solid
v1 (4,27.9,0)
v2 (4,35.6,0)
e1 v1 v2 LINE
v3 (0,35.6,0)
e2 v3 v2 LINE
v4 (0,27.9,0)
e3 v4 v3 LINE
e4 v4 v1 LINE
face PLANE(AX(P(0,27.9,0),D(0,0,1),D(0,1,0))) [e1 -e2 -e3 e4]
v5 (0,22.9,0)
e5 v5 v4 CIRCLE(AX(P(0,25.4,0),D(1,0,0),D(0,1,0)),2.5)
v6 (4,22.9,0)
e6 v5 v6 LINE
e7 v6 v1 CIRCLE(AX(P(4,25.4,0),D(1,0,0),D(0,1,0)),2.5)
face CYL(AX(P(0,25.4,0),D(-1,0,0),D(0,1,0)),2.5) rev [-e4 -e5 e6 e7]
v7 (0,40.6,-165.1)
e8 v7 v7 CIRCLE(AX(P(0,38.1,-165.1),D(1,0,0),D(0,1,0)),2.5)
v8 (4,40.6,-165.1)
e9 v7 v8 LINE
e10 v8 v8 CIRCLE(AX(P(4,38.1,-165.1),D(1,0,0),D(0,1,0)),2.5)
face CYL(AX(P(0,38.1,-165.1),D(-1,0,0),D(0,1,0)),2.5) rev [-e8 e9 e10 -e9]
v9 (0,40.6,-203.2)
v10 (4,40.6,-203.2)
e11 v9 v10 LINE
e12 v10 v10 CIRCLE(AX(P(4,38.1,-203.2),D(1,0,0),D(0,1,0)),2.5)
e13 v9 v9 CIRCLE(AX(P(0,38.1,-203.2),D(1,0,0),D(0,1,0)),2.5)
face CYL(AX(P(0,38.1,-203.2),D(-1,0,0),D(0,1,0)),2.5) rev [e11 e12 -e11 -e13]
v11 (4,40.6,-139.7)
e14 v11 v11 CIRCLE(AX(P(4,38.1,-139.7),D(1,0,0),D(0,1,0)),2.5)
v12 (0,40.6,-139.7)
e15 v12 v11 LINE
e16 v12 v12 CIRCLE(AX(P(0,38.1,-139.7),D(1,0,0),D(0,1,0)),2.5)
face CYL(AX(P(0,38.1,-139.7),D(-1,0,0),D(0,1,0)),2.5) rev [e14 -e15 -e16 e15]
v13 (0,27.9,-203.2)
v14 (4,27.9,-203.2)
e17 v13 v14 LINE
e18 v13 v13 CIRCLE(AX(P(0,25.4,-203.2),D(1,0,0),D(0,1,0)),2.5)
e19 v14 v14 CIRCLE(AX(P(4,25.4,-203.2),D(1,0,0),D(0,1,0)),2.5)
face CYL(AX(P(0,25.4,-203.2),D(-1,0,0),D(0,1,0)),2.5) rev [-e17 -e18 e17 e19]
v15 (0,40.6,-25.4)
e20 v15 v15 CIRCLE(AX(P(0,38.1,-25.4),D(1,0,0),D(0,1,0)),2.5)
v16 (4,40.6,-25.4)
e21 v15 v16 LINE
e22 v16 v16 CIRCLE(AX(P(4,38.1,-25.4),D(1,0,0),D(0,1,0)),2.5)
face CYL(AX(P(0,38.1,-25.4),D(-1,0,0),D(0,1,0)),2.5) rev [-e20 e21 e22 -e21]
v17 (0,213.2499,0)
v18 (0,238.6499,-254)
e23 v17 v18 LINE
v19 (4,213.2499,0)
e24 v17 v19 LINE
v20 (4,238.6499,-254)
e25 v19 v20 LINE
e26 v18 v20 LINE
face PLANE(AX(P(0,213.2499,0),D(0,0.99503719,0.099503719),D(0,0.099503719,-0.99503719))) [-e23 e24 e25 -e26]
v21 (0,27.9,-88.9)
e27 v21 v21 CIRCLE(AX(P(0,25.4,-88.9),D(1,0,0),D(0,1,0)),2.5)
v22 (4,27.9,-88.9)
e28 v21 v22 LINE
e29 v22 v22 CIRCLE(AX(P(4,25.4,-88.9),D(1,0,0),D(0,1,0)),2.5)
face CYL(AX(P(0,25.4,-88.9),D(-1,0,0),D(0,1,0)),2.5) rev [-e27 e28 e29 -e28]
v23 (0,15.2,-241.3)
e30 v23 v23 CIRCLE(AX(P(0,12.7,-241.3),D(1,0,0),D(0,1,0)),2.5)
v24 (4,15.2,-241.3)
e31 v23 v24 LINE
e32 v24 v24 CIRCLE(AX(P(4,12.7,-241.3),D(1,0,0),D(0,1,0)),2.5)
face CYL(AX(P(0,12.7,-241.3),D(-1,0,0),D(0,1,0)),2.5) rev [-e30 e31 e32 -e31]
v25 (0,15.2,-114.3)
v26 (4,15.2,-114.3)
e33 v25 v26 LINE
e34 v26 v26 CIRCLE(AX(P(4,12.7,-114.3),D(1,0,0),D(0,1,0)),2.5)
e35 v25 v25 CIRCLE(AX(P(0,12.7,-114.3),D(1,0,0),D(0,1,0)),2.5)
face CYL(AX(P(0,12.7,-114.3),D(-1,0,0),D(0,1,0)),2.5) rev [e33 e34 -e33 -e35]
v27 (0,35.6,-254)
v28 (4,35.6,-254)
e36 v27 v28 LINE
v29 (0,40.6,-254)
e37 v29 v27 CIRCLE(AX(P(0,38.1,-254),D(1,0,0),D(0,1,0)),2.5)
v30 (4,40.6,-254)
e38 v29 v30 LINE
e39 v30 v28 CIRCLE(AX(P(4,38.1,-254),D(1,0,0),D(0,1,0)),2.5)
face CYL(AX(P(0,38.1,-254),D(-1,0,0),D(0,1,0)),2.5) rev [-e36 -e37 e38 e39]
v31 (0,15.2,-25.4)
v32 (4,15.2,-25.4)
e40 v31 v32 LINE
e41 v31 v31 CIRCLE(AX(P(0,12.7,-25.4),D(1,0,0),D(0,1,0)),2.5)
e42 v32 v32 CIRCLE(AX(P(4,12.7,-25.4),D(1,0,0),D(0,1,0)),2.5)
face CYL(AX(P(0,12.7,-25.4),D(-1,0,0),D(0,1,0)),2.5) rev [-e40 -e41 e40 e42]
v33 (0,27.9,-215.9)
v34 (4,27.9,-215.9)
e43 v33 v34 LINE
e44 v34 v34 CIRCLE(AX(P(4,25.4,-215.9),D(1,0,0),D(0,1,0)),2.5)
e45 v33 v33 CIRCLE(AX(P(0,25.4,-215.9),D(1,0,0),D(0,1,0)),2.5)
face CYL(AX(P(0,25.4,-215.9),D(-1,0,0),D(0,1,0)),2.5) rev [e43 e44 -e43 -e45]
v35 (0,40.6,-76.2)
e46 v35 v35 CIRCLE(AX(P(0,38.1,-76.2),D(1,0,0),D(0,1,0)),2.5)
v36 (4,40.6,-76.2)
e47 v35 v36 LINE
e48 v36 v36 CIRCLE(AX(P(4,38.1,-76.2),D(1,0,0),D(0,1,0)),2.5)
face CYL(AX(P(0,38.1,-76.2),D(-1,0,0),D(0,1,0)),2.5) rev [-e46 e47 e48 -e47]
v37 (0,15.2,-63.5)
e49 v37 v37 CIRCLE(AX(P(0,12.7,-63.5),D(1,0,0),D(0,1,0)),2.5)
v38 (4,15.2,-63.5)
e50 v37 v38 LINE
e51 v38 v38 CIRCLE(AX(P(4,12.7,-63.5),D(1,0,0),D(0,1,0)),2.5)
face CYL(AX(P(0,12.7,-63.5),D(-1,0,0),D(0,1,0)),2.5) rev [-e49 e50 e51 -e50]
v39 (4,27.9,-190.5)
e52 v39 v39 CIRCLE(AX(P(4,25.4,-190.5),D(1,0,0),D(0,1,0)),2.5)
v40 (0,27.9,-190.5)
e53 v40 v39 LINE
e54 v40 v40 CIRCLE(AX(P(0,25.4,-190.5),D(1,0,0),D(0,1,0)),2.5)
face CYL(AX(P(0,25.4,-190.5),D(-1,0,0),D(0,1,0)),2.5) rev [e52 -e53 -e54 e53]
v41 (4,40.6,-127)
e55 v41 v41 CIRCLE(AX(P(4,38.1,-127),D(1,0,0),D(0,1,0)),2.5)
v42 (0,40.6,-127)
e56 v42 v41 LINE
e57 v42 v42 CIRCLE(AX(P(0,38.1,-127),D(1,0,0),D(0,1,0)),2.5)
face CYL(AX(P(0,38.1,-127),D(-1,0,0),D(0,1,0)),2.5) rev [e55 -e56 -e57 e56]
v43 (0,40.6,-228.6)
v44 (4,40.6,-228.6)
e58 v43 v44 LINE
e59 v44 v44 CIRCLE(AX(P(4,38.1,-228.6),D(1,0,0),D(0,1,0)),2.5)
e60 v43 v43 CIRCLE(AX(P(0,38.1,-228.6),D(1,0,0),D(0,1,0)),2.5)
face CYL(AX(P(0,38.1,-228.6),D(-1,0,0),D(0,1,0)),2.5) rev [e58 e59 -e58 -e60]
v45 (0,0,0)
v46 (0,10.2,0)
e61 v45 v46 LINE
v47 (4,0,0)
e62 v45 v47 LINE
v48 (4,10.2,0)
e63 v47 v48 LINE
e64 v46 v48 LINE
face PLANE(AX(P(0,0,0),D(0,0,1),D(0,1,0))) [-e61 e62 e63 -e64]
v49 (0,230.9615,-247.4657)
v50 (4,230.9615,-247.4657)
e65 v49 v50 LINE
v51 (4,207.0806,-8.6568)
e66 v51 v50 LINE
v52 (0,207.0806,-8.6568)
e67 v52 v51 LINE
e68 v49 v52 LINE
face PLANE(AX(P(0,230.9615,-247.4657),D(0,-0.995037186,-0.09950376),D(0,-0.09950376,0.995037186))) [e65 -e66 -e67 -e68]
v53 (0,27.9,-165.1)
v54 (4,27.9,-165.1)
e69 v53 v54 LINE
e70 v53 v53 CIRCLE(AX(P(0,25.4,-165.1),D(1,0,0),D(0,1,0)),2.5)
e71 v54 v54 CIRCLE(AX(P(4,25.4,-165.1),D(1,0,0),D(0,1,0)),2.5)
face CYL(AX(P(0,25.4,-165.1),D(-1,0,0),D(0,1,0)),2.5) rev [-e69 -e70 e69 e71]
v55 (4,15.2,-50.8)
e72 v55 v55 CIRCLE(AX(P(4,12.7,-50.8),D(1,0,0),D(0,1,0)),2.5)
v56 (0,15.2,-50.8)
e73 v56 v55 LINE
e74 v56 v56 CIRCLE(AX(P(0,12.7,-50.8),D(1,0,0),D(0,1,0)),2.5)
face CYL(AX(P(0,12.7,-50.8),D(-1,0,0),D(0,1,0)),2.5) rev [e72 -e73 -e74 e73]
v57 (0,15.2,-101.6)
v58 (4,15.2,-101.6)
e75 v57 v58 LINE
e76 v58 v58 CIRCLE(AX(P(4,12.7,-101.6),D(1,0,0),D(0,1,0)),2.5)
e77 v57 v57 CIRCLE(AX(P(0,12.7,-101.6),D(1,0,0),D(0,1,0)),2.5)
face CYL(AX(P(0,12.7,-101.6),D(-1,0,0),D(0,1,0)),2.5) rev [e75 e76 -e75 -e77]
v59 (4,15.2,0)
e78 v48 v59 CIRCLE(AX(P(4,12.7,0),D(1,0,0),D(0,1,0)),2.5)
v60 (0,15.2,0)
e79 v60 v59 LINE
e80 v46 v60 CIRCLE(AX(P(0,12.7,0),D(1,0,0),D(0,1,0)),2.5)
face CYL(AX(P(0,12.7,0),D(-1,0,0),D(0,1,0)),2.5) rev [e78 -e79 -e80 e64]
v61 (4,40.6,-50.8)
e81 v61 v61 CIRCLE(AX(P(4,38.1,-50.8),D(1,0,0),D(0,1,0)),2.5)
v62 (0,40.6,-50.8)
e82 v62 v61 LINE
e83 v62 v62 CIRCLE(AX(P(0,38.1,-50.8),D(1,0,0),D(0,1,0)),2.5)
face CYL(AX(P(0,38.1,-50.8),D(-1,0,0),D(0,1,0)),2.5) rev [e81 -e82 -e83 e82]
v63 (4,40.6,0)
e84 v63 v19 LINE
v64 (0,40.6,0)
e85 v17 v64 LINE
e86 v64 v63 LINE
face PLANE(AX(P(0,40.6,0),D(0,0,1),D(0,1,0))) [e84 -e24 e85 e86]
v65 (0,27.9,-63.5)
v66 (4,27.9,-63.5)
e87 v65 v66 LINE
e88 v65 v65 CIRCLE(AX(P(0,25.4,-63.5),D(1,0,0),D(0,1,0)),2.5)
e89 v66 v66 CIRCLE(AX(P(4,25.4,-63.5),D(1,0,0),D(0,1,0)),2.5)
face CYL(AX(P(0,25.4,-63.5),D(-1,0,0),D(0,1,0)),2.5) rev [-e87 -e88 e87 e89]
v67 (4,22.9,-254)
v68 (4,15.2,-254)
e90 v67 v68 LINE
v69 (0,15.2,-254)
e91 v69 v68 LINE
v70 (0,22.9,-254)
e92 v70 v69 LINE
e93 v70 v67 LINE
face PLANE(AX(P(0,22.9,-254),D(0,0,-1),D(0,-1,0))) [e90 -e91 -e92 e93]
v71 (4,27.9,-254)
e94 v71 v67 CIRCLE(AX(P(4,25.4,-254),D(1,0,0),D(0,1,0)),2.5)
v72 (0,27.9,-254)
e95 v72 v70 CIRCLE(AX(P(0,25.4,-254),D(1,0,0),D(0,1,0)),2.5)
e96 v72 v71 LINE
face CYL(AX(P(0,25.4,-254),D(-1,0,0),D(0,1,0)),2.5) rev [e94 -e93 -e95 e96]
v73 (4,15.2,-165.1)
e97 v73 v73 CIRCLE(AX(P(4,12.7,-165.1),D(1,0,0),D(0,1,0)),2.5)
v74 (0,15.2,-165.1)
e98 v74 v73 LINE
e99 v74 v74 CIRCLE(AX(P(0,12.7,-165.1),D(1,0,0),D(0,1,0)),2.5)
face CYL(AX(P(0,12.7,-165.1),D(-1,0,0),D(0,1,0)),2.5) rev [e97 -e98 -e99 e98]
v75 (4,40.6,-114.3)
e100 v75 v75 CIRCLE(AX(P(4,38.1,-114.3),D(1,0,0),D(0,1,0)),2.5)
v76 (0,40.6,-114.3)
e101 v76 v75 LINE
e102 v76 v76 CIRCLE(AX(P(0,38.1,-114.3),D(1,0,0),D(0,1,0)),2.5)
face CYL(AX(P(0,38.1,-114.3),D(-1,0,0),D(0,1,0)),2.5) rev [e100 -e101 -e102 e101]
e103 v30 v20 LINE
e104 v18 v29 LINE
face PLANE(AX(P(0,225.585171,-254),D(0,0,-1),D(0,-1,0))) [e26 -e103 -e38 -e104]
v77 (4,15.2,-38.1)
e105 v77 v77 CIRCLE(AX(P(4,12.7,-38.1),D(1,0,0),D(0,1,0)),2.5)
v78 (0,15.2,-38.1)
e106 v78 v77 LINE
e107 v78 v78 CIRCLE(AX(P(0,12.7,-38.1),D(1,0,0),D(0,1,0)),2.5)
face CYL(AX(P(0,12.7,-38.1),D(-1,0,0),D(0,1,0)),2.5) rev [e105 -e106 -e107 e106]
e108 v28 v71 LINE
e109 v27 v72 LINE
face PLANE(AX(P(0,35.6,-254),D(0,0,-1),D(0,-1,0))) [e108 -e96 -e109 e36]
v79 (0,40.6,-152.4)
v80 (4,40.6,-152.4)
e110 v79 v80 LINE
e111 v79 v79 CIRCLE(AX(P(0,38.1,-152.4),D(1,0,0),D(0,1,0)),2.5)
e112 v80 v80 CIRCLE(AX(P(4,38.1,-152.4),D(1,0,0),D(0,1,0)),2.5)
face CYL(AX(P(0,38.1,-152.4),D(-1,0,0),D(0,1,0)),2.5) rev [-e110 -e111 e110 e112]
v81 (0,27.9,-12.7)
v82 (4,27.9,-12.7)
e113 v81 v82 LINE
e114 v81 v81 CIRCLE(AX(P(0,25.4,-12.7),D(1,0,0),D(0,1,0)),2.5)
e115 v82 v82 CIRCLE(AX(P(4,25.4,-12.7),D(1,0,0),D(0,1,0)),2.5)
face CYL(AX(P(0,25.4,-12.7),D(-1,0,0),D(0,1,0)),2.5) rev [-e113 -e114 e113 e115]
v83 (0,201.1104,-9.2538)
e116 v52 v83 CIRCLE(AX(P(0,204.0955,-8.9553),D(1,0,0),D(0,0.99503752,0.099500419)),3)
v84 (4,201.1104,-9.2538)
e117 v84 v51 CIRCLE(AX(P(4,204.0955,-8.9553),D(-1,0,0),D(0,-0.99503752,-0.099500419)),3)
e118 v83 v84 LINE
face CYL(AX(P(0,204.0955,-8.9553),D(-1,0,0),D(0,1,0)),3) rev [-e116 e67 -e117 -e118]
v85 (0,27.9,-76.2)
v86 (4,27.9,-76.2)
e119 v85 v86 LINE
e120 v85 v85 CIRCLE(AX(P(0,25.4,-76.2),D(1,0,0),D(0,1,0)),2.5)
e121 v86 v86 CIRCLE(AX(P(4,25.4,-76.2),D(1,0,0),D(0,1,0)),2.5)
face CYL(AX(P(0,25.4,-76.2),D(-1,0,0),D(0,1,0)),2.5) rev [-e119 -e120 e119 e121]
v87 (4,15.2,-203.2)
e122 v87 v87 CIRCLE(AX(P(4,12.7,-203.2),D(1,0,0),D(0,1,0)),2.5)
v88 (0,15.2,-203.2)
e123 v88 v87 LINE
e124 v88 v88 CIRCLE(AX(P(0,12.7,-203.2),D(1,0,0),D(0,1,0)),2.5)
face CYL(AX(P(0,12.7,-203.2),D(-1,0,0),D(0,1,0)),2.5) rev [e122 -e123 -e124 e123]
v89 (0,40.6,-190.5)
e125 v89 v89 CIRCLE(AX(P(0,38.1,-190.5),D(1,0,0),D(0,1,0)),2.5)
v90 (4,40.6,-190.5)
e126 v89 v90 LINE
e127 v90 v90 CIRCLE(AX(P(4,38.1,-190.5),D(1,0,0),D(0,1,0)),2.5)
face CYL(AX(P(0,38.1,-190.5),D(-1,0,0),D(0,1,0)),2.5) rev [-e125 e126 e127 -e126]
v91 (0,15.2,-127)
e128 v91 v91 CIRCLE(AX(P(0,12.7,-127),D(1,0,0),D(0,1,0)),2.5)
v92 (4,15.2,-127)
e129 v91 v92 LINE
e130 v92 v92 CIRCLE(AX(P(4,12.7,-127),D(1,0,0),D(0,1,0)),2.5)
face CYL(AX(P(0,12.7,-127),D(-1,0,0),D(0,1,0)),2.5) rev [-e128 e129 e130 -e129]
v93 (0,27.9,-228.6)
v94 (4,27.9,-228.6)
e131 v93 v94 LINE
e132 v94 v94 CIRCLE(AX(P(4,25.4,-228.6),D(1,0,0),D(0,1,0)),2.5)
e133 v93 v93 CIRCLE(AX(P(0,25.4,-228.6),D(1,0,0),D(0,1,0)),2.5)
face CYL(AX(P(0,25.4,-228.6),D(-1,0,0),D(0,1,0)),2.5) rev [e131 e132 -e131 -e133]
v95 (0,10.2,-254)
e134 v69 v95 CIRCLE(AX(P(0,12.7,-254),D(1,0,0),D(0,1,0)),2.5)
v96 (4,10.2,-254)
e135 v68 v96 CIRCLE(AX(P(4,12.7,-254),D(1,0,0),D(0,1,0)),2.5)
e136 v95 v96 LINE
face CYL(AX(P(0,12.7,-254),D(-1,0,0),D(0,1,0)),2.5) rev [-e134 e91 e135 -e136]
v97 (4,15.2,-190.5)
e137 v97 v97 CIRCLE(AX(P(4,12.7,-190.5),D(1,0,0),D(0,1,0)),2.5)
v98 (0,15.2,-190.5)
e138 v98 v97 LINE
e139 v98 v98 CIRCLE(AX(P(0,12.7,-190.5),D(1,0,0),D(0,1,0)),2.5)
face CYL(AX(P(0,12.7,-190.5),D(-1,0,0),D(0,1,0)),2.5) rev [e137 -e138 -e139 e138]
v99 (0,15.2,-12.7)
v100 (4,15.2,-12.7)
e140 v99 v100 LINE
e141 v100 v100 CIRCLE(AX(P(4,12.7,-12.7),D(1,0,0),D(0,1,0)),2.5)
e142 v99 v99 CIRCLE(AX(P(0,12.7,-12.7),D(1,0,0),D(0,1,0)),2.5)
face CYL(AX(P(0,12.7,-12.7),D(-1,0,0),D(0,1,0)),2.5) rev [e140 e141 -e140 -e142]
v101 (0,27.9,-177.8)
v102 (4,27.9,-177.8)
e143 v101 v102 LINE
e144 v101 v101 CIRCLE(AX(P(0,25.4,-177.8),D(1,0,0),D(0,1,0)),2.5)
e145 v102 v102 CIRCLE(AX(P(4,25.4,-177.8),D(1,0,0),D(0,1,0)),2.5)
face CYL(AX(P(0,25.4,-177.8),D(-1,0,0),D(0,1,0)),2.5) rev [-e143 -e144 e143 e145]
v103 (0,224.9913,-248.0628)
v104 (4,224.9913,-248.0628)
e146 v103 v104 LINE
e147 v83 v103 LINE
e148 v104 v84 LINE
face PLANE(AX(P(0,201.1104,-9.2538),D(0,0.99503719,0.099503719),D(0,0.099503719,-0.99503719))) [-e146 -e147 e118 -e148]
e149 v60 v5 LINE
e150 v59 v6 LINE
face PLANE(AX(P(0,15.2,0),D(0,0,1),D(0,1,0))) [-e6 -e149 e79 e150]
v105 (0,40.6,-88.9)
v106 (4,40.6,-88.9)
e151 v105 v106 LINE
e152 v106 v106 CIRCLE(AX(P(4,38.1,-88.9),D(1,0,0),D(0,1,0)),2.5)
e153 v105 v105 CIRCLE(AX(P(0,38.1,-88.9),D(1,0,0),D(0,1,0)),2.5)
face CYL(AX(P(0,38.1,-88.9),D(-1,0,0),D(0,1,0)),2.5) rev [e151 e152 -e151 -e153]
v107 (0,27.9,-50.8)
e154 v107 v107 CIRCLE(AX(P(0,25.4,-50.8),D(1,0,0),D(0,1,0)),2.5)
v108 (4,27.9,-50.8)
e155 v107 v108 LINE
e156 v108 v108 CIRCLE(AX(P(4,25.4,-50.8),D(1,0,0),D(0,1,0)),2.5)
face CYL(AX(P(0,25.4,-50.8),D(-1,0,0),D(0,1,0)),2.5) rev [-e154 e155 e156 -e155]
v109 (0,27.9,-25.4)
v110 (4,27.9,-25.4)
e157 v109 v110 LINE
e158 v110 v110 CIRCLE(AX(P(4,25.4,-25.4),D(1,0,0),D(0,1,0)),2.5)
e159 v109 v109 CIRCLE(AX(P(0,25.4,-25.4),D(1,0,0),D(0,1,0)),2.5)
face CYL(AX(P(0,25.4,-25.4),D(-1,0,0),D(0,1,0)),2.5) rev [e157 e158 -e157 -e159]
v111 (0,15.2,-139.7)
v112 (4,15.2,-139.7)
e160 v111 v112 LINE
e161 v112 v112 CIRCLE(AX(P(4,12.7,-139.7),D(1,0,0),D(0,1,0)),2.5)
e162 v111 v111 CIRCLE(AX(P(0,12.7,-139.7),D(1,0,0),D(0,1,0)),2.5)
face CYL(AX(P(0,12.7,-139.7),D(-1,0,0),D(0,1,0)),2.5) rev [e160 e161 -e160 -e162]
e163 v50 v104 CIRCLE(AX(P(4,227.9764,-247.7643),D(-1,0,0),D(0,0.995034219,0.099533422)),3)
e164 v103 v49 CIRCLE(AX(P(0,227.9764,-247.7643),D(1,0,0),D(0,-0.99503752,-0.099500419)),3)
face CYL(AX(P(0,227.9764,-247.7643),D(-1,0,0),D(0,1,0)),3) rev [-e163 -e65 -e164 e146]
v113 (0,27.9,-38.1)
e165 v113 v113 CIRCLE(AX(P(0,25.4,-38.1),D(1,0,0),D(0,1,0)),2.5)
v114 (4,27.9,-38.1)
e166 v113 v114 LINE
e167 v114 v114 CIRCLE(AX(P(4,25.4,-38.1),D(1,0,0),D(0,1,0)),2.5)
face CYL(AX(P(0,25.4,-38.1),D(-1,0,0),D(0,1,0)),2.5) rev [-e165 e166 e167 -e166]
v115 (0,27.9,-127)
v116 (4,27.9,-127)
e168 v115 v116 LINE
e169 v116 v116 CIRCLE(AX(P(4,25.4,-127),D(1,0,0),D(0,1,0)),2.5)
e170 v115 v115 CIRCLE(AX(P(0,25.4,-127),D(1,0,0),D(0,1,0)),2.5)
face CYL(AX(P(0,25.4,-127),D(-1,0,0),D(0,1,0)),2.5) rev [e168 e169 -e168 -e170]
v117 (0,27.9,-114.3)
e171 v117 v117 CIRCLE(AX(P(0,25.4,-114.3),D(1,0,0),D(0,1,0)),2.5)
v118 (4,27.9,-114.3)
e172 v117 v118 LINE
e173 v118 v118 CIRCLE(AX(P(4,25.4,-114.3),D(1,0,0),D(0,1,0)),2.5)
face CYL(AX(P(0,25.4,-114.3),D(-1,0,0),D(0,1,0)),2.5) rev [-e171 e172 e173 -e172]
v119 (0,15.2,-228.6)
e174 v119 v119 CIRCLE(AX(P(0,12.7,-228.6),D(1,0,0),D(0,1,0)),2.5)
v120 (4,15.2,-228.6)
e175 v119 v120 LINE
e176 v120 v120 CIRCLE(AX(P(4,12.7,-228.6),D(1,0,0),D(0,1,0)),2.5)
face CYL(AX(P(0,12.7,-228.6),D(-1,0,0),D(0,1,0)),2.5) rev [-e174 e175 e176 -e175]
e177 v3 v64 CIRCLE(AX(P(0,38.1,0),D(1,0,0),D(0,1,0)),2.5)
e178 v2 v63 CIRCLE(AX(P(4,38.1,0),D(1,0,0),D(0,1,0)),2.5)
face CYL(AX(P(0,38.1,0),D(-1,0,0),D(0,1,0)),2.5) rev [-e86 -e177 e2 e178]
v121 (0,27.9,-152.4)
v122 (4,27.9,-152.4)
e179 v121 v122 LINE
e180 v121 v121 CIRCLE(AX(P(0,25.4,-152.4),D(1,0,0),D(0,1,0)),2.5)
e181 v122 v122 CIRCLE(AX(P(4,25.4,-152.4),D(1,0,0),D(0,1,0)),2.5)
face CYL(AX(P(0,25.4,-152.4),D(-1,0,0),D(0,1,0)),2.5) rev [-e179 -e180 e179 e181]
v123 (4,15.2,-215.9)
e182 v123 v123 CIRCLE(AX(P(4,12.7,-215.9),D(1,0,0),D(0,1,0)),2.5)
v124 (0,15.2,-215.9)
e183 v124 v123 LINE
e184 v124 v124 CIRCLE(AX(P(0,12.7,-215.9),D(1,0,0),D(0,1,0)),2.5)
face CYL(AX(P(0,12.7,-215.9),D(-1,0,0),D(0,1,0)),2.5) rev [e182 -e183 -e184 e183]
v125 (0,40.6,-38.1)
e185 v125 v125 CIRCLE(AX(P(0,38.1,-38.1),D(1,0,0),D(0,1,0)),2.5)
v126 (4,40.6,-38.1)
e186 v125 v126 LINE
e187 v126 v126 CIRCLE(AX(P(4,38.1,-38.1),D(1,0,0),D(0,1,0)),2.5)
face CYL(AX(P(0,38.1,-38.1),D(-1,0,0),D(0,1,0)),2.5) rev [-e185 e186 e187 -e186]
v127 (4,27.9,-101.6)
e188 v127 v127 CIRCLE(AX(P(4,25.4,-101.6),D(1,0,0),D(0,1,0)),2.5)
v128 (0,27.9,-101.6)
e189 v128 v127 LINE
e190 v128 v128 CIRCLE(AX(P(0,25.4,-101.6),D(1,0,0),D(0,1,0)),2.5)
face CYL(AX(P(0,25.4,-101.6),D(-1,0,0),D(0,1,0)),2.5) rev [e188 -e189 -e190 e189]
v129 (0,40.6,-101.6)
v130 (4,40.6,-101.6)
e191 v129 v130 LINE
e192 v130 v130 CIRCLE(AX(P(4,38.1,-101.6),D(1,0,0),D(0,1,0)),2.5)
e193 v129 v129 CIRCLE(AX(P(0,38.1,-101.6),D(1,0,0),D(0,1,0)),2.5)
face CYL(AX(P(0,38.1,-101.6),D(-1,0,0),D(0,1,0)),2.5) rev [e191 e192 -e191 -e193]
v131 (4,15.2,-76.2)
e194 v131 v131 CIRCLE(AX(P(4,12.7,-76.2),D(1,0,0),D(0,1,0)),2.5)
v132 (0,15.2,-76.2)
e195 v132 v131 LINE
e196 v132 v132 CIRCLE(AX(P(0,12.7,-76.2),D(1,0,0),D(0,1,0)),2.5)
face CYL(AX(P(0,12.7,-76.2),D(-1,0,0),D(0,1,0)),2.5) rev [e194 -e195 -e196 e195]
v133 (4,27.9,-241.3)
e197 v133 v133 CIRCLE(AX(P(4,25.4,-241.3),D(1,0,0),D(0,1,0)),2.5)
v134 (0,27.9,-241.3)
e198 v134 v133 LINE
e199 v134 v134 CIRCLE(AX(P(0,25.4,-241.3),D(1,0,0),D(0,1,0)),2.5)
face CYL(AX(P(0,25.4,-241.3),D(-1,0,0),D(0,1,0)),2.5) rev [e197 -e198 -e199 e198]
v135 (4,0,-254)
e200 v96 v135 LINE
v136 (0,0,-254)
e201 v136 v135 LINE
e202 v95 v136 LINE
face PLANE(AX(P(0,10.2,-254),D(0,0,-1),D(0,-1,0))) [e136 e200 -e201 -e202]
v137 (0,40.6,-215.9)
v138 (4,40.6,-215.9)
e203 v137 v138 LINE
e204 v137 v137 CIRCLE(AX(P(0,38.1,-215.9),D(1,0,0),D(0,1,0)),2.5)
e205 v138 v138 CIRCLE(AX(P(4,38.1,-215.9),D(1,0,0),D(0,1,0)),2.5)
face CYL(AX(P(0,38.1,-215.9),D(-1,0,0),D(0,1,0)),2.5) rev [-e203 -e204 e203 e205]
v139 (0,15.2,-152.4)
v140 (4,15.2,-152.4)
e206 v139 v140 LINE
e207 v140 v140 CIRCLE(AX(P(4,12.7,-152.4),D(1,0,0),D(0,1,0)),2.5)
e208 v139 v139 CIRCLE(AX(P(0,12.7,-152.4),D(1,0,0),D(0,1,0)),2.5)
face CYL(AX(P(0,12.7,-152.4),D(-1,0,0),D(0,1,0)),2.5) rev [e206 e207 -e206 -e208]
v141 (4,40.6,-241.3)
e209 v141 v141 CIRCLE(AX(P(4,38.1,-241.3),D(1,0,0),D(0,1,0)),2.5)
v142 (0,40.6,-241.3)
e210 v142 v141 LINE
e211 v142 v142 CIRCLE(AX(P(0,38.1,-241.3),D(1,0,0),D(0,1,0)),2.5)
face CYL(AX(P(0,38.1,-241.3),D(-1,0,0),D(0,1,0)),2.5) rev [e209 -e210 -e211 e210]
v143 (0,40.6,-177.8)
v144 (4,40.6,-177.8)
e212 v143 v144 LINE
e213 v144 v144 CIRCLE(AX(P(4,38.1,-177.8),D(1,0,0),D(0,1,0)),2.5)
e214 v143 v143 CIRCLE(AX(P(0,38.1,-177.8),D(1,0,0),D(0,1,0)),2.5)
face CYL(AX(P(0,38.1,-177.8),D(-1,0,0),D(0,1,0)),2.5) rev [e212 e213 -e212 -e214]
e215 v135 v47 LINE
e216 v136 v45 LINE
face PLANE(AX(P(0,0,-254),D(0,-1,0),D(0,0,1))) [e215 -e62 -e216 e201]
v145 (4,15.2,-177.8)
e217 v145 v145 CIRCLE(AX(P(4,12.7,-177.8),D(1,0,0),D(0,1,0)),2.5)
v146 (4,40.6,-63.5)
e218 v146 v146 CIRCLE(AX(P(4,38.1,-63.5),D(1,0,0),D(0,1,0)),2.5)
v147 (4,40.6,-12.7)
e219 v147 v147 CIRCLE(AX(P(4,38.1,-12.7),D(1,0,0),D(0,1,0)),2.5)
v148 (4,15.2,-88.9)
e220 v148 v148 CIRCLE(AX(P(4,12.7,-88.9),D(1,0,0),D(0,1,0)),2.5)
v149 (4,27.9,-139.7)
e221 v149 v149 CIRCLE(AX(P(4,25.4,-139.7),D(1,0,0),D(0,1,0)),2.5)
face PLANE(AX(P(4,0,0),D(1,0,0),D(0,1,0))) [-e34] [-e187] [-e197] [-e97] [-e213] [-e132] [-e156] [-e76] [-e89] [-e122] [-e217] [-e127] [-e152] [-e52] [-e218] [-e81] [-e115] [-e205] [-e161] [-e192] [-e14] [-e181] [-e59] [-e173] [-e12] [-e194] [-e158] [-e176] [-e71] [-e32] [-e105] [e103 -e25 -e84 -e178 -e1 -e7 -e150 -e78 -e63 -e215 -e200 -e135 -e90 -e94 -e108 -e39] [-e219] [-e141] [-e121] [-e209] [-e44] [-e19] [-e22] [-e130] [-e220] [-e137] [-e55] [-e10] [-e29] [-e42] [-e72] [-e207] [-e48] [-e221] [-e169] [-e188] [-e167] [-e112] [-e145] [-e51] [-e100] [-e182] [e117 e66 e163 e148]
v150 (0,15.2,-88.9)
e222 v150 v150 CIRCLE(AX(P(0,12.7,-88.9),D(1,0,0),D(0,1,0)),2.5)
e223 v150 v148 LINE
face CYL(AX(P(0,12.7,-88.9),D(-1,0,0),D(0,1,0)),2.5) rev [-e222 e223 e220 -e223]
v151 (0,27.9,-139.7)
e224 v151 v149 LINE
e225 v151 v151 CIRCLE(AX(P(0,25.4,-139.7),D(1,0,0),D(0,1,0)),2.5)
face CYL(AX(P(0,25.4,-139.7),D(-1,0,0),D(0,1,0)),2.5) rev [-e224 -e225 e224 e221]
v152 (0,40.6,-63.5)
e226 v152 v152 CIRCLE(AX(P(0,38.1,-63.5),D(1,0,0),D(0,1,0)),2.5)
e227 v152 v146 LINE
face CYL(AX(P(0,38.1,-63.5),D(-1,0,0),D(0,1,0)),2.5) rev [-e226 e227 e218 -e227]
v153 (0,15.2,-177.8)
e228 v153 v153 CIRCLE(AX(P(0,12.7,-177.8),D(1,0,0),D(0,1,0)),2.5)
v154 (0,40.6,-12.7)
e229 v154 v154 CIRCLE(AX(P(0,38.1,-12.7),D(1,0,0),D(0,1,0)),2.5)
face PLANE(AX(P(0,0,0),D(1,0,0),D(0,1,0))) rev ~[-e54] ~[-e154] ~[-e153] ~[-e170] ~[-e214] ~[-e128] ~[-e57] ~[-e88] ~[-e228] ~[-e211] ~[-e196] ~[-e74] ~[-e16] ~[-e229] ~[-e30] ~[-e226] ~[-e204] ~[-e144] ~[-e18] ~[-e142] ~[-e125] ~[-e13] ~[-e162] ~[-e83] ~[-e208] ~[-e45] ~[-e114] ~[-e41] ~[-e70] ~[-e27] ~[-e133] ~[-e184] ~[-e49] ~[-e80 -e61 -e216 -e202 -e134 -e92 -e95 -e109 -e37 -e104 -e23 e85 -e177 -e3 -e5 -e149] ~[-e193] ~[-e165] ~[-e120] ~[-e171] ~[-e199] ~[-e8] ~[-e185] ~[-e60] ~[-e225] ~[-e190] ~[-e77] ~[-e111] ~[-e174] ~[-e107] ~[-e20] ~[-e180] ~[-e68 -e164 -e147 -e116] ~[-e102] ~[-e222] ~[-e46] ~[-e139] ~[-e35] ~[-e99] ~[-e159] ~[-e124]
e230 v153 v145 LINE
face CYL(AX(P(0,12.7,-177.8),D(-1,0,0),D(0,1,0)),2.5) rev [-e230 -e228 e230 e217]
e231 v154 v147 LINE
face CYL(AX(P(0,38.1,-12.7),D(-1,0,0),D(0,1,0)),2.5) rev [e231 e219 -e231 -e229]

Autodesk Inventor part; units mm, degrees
ref_plane "YZ Plane" through (0, 0, 0) normal (1, 0, 0) x (0, 1, 0)
ref_plane "XZ Plane" through (0, 0, 0) normal (0, 1, 0) x (-1, 0, 0)
ref_plane "XY Plane" through (0, 0, 0) normal (0, 0, 1) x (1, 0, 0)
sketch "Esboço1" plane through (0, 0, 0) normal (1, 0, 0) x (0, 1, 0)
  line L0 (0, 0) -> (203.2, 0)
  line L1 (203.2, 0) -> (228.6, -254)
  line L2 (228.6, -254) -> (0, -254)
  line L3 (0, -254) -> (0, 0)
  circle A0 centre (12.7, 0) radius 2.5
  circle A1 centre (25.4, 0) radius 2.5
  circle A2 centre (38.1, 0) radius 2.5
  circle A3 centre (38.1, -12.7) radius 2.5
  circle A4 centre (25.4, -12.7) radius 2.5
  circle A5 centre (12.7, -12.7) radius 2.5
  circle A6 centre (38.1, -25.4) radius 2.5
  circle A7 centre (25.4, -25.4) radius 2.5
  circle A8 centre (12.7, -25.4) radius 2.5
  circle A9 centre (38.1, -38.1) radius 2.5
  circle A10 centre (25.4, -38.1) radius 2.5
  circle A11 centre (12.7, -38.1) radius 2.5
  circle A12 centre (38.1, -50.8) radius 2.5
  circle A13 centre (25.4, -50.8) radius 2.5
  circle A14 centre (12.7, -50.8) radius 2.5
  circle A15 centre (38.1, -63.5) radius 2.5
  circle A16 centre (25.4, -63.5) radius 2.5
  circle A17 centre (12.7, -63.5) radius 2.5
  circle A18 centre (38.1, -76.2) radius 2.5
  circle A19 centre (25.4, -76.2) radius 2.5
  circle A20 centre (12.7, -76.2) radius 2.5
  circle A21 centre (38.1, -88.9) radius 2.5
  circle A22 centre (25.4, -88.9) radius 2.5
  circle A23 centre (12.7, -88.9) radius 2.5
  circle A24 centre (38.1, -101.6) radius 2.5
  circle A25 centre (25.4, -101.6) radius 2.5
  circle A26 centre (12.7, -101.6) radius 2.5
  circle A27 centre (38.1, -114.3) radius 2.5
  circle A28 centre (25.4, -114.3) radius 2.5
  circle A29 centre (12.7, -114.3) radius 2.5
  circle A30 centre (38.1, -127) radius 2.5
  circle A31 centre (25.4, -127) radius 2.5
  circle A32 centre (12.7, -127) radius 2.5
  circle A33 centre (38.1, -139.7) radius 2.5
  circle A34 centre (25.4, -139.7) radius 2.5
  circle A35 centre (12.7, -139.7) radius 2.5
  circle A36 centre (38.1, -152.4) radius 2.5
  circle A37 centre (25.4, -152.4) radius 2.5
  circle A38 centre (12.7, -152.4) radius 2.5
  circle A39 centre (38.1, -165.1) radius 2.5
  circle A40 centre (25.4, -165.1) radius 2.5
  circle A41 centre (12.7, -165.1) radius 2.5
  circle A42 centre (38.1, -177.8) radius 2.5
  circle A43 centre (25.4, -177.8) radius 2.5
  circle A44 centre (12.7, -177.8) radius 2.5
  circle A45 centre (38.1, -190.5) radius 2.5
  circle A46 centre (25.4, -190.5) radius 2.5
  circle A47 centre (12.7, -190.5) radius 2.5
  circle A48 centre (38.1, -203.2) radius 2.5
  circle A49 centre (25.4, -203.2) radius 2.5
  circle A50 centre (12.7, -203.2) radius 2.5
  circle A51 centre (38.1, -215.9) radius 2.5
  circle A52 centre (25.4, -215.9) radius 2.5
  circle A53 centre (12.7, -215.9) radius 2.5
  circle A54 centre (38.1, -228.6) radius 2.5
  circle A55 centre (25.4, -228.6) radius 2.5
  circle A56 centre (12.7, -228.6) radius 2.5
  circle A57 centre (38.1, -241.3) radius 2.5
  circle A58 centre (25.4, -241.3) radius 2.5
  circle A59 centre (12.7, -241.3) radius 2.5
  circle A60 centre (38.1, -254) radius 2.5
  circle A61 centre (25.4, -254) radius 2.5
  circle A62 centre (12.7, -254) radius 2.5
  circle A63 centre (203.4985, -2.9851) radius 3
  circle A64 centre (204.0955, -8.9553) radius 3
  circle A65 centre (204.6926, -14.9256) radius 3
  circle A66 centre (205.2896, -20.8958) radius 3
  circle A67 centre (205.8866, -26.866) radius 3
  circle A68 centre (206.4836, -32.8362) radius 3
  circle A69 centre (207.0806, -38.8065) radius 3
  circle A70 centre (207.6777, -44.7767) radius 3
  circle A71 centre (208.2747, -50.7469) radius 3
  circle A72 centre (208.8717, -56.7171) radius 3
  circle A73 centre (209.4687, -62.6873) radius 3
  circle A74 centre (210.0658, -68.6576) radius 3
  circle A75 centre (210.6628, -74.6278) radius 3
  circle A76 centre (211.2598, -80.598) radius 3
  circle A77 centre (211.8568, -86.5682) radius 3
  circle A78 centre (212.4538, -92.5385) radius 3
  circle A79 centre (213.0509, -98.5087) radius 3
  circle A80 centre (213.6479, -104.4789) radius 3
  circle A81 centre (214.2449, -110.4491) radius 3
  circle A82 centre (214.8419, -116.4194) radius 3
  circle A83 centre (215.439, -122.3896) radius 3
  circle A84 centre (216.036, -128.3598) radius 3
  circle A85 centre (216.633, -134.33) radius 3
  circle A86 centre (217.23, -140.3002) radius 3
  circle A87 centre (217.827, -146.2705) radius 3
  circle A88 centre (218.4241, -152.2407) radius 3
  circle A89 centre (219.0211, -158.2109) radius 3
  circle A90 centre (219.6181, -164.1811) radius 3
  circle A91 centre (220.2151, -170.1514) radius 3
  circle A92 centre (220.8122, -176.1216) radius 3
  circle A93 centre (221.4092, -182.0918) radius 3
  circle A94 centre (222.0062, -188.062) radius 3
  circle A95 centre (222.6032, -194.0323) radius 3
  circle A96 centre (223.2002, -200.0025) radius 3
  circle A97 centre (223.7973, -205.9727) radius 3
  circle A98 centre (224.3943, -211.9429) radius 3
  circle A99 centre (224.9913, -217.9131) radius 3
  circle A100 centre (225.5883, -223.8834) radius 3
  circle A101 centre (226.1854, -229.8536) radius 3
  circle A102 centre (226.7824, -235.8238) radius 3
  circle A103 centre (227.3794, -241.794) radius 3
  circle A104 centre (227.9764, -247.7643) radius 3
  circle A105 centre (228.5734, -253.7345) radius 3
  line L4 (203.2, 0) -> (213.2499, 0)
  line L5 (213.2499, 0) -> (238.6499, -254)
  line L6 (238.6499, -254) -> (228.6, -254)
  line L7 (227.9764, -247.7643) -> (204.0955, -8.9553) construction
  line L8 (230.9615, -247.4657) -> (207.0806, -8.6568)
  line L9 (201.1104, -9.2538) -> (224.9913, -248.0628)
  arc A106 (224.9913, -248.0628) -> (230.9615, -247.4657) centre (227.9764, -247.7643) ccw
  arc A107 (207.0806, -8.6568) -> (201.1104, -9.2538) centre (204.0955, -8.9553) ccw
  point P0 (40.6, 0)
  point P1 (35.6, 0)
  point P2 (27.9, 0)
  point P3 (22.9, 0)
  point P4 (15.2, 0)
  point P5 (10.2, 0)
  point P6 (10.2, -254)
  point P7 (15.2, -254)
  point P8 (22.9, -254)
  point P9 (27.9, -254)
  point P10 (35.6, -254)
  point P11 (40.6, -254)
  point P12 (203.797, -5.9702)
  point P13 (204.394, -11.9404)
  point P14 (204.9911, -17.9107)
  point P15 (205.5881, -23.8809)
  point P16 (206.1851, -29.8511)
  point P17 (206.7821, -35.8213)
  point P18 (207.3792, -41.7916)
  point P19 (207.9762, -47.7618)
  point P20 (208.5732, -53.732)
  point P21 (209.1702, -59.7022)
  point P22 (209.7672, -65.6725)
  point P23 (210.3643, -71.6427)
  point P24 (210.9613, -77.6129)
  point P25 (211.5583, -83.5831)
  point P26 (212.1553, -89.5533)
  point P27 (212.7524, -95.5236)
  point P28 (213.3494, -101.4938)
  point P29 (213.9464, -107.464)
  point P30 (214.5434, -113.4342)
  point P31 (215.1404, -119.4045)
  point P32 (215.7375, -125.3747)
  point P33 (216.3345, -131.3449)
  point P34 (216.9315, -137.3151)
  point P35 (217.5285, -143.2854)
  point P36 (218.1256, -149.2556)
  point P37 (218.7226, -155.2258)
  point P38 (219.3196, -161.196)
  point P39 (219.9166, -167.1662)
  point P40 (220.5136, -173.1365)
  point P41 (221.1107, -179.1067)
  point P42 (221.7077, -185.0769)
  point P43 (222.3047, -191.0471)
  point P44 (222.9017, -197.0174)
  point P45 (223.4988, -202.9876)
  point P46 (224.0958, -208.9578)
  point P47 (224.6928, -214.928)
  point P48 (225.2898, -220.8983)
  point P49 (225.8868, -226.8685)
  point P50 (226.4839, -232.8387)
  point P51 (227.0809, -238.8089)
  point P52 (227.6779, -244.7791)
  point P53 (228.2749, -250.7494)
  point P54 (228.2749, -250.7494)
  point P55 (227.6779, -244.7791)
  point P56 (227.0809, -238.8089)
  point P57 (226.4839, -232.8387)
  point P58 (225.8868, -226.8685)
  point P59 (225.2898, -220.8983)
  point P60 (224.6928, -214.928)
  point P61 (224.0958, -208.9578)
  point P62 (223.4988, -202.9876)
  point P63 (222.9017, -197.0174)
  point P64 (222.3047, -191.0471)
  point P65 (221.7077, -185.0769)
  point P66 (221.1107, -179.1067)
  point P67 (220.5136, -173.1365)
  point P68 (219.9166, -167.1662)
  point P69 (219.3196, -161.196)
  point P70 (218.7226, -155.2258)
  point P71 (218.1256, -149.2556)
  point P72 (217.5285, -143.2854)
  point P73 (216.9315, -137.3151)
  point P74 (216.3345, -131.3449)
  point P75 (215.7375, -125.3747)
  point P76 (215.1404, -119.4045)
  point P77 (214.5434, -113.4342)
  point P78 (213.9464, -107.464)
  point P79 (213.3494, -101.4938)
  point P80 (212.7524, -95.5236)
  point P81 (212.1553, -89.5533)
  point P82 (211.5583, -83.5831)
  point P83 (210.9613, -77.6129)
  point P84 (210.3643, -71.6427)
  point P85 (209.7672, -65.6725)
  point P86 (209.1702, -59.7022)
  point P87 (208.5732, -53.732)
  point P88 (207.9762, -47.7618)
  point P89 (207.3792, -41.7916)
  point P90 (206.7821, -35.8213)
  point P91 (206.1851, -29.8511)
  point P92 (205.5881, -23.8809)
  point P93 (204.9911, -17.9107)
  point P94 (204.394, -11.9404)
  point P95 (203.797, -5.9702)
  point P96 (216.036, -128.3598)
  point P97 (207.0806, -8.6568)
  point P98 (224.9913, -248.0628)
  point P99 (201.1104, -9.2538)
  dimension "d16" = 6
  dimension "d0" = 254
  dimension "d1" = 228.6
  dimension "d2" = 203.2
  dimension "d3" = 5
  dimension "d4" = 12.7
  dimension "d5" = 12.7
  dimension "d6" = 12.7
  dimension "d9" = 12.7
  dimension "d19" = 6
  dimension "d26" = 252
  dimension "d27" = 10
extrude "Extrusão1" add sketch "Esboço1" along normal blind 4 contours L0 A63 A64 L9 A104 A105 L2 A60 A61 A62 L3 A0 A1 A2 | L4 A63 L1 | L1 A63 | A63 L4 L5 L6 A105 A104 L8 A64 | L6 L1 A105 | A105 L1 L2
equation "\"d5\" = d4"
properties part number "Guia - Intake"
